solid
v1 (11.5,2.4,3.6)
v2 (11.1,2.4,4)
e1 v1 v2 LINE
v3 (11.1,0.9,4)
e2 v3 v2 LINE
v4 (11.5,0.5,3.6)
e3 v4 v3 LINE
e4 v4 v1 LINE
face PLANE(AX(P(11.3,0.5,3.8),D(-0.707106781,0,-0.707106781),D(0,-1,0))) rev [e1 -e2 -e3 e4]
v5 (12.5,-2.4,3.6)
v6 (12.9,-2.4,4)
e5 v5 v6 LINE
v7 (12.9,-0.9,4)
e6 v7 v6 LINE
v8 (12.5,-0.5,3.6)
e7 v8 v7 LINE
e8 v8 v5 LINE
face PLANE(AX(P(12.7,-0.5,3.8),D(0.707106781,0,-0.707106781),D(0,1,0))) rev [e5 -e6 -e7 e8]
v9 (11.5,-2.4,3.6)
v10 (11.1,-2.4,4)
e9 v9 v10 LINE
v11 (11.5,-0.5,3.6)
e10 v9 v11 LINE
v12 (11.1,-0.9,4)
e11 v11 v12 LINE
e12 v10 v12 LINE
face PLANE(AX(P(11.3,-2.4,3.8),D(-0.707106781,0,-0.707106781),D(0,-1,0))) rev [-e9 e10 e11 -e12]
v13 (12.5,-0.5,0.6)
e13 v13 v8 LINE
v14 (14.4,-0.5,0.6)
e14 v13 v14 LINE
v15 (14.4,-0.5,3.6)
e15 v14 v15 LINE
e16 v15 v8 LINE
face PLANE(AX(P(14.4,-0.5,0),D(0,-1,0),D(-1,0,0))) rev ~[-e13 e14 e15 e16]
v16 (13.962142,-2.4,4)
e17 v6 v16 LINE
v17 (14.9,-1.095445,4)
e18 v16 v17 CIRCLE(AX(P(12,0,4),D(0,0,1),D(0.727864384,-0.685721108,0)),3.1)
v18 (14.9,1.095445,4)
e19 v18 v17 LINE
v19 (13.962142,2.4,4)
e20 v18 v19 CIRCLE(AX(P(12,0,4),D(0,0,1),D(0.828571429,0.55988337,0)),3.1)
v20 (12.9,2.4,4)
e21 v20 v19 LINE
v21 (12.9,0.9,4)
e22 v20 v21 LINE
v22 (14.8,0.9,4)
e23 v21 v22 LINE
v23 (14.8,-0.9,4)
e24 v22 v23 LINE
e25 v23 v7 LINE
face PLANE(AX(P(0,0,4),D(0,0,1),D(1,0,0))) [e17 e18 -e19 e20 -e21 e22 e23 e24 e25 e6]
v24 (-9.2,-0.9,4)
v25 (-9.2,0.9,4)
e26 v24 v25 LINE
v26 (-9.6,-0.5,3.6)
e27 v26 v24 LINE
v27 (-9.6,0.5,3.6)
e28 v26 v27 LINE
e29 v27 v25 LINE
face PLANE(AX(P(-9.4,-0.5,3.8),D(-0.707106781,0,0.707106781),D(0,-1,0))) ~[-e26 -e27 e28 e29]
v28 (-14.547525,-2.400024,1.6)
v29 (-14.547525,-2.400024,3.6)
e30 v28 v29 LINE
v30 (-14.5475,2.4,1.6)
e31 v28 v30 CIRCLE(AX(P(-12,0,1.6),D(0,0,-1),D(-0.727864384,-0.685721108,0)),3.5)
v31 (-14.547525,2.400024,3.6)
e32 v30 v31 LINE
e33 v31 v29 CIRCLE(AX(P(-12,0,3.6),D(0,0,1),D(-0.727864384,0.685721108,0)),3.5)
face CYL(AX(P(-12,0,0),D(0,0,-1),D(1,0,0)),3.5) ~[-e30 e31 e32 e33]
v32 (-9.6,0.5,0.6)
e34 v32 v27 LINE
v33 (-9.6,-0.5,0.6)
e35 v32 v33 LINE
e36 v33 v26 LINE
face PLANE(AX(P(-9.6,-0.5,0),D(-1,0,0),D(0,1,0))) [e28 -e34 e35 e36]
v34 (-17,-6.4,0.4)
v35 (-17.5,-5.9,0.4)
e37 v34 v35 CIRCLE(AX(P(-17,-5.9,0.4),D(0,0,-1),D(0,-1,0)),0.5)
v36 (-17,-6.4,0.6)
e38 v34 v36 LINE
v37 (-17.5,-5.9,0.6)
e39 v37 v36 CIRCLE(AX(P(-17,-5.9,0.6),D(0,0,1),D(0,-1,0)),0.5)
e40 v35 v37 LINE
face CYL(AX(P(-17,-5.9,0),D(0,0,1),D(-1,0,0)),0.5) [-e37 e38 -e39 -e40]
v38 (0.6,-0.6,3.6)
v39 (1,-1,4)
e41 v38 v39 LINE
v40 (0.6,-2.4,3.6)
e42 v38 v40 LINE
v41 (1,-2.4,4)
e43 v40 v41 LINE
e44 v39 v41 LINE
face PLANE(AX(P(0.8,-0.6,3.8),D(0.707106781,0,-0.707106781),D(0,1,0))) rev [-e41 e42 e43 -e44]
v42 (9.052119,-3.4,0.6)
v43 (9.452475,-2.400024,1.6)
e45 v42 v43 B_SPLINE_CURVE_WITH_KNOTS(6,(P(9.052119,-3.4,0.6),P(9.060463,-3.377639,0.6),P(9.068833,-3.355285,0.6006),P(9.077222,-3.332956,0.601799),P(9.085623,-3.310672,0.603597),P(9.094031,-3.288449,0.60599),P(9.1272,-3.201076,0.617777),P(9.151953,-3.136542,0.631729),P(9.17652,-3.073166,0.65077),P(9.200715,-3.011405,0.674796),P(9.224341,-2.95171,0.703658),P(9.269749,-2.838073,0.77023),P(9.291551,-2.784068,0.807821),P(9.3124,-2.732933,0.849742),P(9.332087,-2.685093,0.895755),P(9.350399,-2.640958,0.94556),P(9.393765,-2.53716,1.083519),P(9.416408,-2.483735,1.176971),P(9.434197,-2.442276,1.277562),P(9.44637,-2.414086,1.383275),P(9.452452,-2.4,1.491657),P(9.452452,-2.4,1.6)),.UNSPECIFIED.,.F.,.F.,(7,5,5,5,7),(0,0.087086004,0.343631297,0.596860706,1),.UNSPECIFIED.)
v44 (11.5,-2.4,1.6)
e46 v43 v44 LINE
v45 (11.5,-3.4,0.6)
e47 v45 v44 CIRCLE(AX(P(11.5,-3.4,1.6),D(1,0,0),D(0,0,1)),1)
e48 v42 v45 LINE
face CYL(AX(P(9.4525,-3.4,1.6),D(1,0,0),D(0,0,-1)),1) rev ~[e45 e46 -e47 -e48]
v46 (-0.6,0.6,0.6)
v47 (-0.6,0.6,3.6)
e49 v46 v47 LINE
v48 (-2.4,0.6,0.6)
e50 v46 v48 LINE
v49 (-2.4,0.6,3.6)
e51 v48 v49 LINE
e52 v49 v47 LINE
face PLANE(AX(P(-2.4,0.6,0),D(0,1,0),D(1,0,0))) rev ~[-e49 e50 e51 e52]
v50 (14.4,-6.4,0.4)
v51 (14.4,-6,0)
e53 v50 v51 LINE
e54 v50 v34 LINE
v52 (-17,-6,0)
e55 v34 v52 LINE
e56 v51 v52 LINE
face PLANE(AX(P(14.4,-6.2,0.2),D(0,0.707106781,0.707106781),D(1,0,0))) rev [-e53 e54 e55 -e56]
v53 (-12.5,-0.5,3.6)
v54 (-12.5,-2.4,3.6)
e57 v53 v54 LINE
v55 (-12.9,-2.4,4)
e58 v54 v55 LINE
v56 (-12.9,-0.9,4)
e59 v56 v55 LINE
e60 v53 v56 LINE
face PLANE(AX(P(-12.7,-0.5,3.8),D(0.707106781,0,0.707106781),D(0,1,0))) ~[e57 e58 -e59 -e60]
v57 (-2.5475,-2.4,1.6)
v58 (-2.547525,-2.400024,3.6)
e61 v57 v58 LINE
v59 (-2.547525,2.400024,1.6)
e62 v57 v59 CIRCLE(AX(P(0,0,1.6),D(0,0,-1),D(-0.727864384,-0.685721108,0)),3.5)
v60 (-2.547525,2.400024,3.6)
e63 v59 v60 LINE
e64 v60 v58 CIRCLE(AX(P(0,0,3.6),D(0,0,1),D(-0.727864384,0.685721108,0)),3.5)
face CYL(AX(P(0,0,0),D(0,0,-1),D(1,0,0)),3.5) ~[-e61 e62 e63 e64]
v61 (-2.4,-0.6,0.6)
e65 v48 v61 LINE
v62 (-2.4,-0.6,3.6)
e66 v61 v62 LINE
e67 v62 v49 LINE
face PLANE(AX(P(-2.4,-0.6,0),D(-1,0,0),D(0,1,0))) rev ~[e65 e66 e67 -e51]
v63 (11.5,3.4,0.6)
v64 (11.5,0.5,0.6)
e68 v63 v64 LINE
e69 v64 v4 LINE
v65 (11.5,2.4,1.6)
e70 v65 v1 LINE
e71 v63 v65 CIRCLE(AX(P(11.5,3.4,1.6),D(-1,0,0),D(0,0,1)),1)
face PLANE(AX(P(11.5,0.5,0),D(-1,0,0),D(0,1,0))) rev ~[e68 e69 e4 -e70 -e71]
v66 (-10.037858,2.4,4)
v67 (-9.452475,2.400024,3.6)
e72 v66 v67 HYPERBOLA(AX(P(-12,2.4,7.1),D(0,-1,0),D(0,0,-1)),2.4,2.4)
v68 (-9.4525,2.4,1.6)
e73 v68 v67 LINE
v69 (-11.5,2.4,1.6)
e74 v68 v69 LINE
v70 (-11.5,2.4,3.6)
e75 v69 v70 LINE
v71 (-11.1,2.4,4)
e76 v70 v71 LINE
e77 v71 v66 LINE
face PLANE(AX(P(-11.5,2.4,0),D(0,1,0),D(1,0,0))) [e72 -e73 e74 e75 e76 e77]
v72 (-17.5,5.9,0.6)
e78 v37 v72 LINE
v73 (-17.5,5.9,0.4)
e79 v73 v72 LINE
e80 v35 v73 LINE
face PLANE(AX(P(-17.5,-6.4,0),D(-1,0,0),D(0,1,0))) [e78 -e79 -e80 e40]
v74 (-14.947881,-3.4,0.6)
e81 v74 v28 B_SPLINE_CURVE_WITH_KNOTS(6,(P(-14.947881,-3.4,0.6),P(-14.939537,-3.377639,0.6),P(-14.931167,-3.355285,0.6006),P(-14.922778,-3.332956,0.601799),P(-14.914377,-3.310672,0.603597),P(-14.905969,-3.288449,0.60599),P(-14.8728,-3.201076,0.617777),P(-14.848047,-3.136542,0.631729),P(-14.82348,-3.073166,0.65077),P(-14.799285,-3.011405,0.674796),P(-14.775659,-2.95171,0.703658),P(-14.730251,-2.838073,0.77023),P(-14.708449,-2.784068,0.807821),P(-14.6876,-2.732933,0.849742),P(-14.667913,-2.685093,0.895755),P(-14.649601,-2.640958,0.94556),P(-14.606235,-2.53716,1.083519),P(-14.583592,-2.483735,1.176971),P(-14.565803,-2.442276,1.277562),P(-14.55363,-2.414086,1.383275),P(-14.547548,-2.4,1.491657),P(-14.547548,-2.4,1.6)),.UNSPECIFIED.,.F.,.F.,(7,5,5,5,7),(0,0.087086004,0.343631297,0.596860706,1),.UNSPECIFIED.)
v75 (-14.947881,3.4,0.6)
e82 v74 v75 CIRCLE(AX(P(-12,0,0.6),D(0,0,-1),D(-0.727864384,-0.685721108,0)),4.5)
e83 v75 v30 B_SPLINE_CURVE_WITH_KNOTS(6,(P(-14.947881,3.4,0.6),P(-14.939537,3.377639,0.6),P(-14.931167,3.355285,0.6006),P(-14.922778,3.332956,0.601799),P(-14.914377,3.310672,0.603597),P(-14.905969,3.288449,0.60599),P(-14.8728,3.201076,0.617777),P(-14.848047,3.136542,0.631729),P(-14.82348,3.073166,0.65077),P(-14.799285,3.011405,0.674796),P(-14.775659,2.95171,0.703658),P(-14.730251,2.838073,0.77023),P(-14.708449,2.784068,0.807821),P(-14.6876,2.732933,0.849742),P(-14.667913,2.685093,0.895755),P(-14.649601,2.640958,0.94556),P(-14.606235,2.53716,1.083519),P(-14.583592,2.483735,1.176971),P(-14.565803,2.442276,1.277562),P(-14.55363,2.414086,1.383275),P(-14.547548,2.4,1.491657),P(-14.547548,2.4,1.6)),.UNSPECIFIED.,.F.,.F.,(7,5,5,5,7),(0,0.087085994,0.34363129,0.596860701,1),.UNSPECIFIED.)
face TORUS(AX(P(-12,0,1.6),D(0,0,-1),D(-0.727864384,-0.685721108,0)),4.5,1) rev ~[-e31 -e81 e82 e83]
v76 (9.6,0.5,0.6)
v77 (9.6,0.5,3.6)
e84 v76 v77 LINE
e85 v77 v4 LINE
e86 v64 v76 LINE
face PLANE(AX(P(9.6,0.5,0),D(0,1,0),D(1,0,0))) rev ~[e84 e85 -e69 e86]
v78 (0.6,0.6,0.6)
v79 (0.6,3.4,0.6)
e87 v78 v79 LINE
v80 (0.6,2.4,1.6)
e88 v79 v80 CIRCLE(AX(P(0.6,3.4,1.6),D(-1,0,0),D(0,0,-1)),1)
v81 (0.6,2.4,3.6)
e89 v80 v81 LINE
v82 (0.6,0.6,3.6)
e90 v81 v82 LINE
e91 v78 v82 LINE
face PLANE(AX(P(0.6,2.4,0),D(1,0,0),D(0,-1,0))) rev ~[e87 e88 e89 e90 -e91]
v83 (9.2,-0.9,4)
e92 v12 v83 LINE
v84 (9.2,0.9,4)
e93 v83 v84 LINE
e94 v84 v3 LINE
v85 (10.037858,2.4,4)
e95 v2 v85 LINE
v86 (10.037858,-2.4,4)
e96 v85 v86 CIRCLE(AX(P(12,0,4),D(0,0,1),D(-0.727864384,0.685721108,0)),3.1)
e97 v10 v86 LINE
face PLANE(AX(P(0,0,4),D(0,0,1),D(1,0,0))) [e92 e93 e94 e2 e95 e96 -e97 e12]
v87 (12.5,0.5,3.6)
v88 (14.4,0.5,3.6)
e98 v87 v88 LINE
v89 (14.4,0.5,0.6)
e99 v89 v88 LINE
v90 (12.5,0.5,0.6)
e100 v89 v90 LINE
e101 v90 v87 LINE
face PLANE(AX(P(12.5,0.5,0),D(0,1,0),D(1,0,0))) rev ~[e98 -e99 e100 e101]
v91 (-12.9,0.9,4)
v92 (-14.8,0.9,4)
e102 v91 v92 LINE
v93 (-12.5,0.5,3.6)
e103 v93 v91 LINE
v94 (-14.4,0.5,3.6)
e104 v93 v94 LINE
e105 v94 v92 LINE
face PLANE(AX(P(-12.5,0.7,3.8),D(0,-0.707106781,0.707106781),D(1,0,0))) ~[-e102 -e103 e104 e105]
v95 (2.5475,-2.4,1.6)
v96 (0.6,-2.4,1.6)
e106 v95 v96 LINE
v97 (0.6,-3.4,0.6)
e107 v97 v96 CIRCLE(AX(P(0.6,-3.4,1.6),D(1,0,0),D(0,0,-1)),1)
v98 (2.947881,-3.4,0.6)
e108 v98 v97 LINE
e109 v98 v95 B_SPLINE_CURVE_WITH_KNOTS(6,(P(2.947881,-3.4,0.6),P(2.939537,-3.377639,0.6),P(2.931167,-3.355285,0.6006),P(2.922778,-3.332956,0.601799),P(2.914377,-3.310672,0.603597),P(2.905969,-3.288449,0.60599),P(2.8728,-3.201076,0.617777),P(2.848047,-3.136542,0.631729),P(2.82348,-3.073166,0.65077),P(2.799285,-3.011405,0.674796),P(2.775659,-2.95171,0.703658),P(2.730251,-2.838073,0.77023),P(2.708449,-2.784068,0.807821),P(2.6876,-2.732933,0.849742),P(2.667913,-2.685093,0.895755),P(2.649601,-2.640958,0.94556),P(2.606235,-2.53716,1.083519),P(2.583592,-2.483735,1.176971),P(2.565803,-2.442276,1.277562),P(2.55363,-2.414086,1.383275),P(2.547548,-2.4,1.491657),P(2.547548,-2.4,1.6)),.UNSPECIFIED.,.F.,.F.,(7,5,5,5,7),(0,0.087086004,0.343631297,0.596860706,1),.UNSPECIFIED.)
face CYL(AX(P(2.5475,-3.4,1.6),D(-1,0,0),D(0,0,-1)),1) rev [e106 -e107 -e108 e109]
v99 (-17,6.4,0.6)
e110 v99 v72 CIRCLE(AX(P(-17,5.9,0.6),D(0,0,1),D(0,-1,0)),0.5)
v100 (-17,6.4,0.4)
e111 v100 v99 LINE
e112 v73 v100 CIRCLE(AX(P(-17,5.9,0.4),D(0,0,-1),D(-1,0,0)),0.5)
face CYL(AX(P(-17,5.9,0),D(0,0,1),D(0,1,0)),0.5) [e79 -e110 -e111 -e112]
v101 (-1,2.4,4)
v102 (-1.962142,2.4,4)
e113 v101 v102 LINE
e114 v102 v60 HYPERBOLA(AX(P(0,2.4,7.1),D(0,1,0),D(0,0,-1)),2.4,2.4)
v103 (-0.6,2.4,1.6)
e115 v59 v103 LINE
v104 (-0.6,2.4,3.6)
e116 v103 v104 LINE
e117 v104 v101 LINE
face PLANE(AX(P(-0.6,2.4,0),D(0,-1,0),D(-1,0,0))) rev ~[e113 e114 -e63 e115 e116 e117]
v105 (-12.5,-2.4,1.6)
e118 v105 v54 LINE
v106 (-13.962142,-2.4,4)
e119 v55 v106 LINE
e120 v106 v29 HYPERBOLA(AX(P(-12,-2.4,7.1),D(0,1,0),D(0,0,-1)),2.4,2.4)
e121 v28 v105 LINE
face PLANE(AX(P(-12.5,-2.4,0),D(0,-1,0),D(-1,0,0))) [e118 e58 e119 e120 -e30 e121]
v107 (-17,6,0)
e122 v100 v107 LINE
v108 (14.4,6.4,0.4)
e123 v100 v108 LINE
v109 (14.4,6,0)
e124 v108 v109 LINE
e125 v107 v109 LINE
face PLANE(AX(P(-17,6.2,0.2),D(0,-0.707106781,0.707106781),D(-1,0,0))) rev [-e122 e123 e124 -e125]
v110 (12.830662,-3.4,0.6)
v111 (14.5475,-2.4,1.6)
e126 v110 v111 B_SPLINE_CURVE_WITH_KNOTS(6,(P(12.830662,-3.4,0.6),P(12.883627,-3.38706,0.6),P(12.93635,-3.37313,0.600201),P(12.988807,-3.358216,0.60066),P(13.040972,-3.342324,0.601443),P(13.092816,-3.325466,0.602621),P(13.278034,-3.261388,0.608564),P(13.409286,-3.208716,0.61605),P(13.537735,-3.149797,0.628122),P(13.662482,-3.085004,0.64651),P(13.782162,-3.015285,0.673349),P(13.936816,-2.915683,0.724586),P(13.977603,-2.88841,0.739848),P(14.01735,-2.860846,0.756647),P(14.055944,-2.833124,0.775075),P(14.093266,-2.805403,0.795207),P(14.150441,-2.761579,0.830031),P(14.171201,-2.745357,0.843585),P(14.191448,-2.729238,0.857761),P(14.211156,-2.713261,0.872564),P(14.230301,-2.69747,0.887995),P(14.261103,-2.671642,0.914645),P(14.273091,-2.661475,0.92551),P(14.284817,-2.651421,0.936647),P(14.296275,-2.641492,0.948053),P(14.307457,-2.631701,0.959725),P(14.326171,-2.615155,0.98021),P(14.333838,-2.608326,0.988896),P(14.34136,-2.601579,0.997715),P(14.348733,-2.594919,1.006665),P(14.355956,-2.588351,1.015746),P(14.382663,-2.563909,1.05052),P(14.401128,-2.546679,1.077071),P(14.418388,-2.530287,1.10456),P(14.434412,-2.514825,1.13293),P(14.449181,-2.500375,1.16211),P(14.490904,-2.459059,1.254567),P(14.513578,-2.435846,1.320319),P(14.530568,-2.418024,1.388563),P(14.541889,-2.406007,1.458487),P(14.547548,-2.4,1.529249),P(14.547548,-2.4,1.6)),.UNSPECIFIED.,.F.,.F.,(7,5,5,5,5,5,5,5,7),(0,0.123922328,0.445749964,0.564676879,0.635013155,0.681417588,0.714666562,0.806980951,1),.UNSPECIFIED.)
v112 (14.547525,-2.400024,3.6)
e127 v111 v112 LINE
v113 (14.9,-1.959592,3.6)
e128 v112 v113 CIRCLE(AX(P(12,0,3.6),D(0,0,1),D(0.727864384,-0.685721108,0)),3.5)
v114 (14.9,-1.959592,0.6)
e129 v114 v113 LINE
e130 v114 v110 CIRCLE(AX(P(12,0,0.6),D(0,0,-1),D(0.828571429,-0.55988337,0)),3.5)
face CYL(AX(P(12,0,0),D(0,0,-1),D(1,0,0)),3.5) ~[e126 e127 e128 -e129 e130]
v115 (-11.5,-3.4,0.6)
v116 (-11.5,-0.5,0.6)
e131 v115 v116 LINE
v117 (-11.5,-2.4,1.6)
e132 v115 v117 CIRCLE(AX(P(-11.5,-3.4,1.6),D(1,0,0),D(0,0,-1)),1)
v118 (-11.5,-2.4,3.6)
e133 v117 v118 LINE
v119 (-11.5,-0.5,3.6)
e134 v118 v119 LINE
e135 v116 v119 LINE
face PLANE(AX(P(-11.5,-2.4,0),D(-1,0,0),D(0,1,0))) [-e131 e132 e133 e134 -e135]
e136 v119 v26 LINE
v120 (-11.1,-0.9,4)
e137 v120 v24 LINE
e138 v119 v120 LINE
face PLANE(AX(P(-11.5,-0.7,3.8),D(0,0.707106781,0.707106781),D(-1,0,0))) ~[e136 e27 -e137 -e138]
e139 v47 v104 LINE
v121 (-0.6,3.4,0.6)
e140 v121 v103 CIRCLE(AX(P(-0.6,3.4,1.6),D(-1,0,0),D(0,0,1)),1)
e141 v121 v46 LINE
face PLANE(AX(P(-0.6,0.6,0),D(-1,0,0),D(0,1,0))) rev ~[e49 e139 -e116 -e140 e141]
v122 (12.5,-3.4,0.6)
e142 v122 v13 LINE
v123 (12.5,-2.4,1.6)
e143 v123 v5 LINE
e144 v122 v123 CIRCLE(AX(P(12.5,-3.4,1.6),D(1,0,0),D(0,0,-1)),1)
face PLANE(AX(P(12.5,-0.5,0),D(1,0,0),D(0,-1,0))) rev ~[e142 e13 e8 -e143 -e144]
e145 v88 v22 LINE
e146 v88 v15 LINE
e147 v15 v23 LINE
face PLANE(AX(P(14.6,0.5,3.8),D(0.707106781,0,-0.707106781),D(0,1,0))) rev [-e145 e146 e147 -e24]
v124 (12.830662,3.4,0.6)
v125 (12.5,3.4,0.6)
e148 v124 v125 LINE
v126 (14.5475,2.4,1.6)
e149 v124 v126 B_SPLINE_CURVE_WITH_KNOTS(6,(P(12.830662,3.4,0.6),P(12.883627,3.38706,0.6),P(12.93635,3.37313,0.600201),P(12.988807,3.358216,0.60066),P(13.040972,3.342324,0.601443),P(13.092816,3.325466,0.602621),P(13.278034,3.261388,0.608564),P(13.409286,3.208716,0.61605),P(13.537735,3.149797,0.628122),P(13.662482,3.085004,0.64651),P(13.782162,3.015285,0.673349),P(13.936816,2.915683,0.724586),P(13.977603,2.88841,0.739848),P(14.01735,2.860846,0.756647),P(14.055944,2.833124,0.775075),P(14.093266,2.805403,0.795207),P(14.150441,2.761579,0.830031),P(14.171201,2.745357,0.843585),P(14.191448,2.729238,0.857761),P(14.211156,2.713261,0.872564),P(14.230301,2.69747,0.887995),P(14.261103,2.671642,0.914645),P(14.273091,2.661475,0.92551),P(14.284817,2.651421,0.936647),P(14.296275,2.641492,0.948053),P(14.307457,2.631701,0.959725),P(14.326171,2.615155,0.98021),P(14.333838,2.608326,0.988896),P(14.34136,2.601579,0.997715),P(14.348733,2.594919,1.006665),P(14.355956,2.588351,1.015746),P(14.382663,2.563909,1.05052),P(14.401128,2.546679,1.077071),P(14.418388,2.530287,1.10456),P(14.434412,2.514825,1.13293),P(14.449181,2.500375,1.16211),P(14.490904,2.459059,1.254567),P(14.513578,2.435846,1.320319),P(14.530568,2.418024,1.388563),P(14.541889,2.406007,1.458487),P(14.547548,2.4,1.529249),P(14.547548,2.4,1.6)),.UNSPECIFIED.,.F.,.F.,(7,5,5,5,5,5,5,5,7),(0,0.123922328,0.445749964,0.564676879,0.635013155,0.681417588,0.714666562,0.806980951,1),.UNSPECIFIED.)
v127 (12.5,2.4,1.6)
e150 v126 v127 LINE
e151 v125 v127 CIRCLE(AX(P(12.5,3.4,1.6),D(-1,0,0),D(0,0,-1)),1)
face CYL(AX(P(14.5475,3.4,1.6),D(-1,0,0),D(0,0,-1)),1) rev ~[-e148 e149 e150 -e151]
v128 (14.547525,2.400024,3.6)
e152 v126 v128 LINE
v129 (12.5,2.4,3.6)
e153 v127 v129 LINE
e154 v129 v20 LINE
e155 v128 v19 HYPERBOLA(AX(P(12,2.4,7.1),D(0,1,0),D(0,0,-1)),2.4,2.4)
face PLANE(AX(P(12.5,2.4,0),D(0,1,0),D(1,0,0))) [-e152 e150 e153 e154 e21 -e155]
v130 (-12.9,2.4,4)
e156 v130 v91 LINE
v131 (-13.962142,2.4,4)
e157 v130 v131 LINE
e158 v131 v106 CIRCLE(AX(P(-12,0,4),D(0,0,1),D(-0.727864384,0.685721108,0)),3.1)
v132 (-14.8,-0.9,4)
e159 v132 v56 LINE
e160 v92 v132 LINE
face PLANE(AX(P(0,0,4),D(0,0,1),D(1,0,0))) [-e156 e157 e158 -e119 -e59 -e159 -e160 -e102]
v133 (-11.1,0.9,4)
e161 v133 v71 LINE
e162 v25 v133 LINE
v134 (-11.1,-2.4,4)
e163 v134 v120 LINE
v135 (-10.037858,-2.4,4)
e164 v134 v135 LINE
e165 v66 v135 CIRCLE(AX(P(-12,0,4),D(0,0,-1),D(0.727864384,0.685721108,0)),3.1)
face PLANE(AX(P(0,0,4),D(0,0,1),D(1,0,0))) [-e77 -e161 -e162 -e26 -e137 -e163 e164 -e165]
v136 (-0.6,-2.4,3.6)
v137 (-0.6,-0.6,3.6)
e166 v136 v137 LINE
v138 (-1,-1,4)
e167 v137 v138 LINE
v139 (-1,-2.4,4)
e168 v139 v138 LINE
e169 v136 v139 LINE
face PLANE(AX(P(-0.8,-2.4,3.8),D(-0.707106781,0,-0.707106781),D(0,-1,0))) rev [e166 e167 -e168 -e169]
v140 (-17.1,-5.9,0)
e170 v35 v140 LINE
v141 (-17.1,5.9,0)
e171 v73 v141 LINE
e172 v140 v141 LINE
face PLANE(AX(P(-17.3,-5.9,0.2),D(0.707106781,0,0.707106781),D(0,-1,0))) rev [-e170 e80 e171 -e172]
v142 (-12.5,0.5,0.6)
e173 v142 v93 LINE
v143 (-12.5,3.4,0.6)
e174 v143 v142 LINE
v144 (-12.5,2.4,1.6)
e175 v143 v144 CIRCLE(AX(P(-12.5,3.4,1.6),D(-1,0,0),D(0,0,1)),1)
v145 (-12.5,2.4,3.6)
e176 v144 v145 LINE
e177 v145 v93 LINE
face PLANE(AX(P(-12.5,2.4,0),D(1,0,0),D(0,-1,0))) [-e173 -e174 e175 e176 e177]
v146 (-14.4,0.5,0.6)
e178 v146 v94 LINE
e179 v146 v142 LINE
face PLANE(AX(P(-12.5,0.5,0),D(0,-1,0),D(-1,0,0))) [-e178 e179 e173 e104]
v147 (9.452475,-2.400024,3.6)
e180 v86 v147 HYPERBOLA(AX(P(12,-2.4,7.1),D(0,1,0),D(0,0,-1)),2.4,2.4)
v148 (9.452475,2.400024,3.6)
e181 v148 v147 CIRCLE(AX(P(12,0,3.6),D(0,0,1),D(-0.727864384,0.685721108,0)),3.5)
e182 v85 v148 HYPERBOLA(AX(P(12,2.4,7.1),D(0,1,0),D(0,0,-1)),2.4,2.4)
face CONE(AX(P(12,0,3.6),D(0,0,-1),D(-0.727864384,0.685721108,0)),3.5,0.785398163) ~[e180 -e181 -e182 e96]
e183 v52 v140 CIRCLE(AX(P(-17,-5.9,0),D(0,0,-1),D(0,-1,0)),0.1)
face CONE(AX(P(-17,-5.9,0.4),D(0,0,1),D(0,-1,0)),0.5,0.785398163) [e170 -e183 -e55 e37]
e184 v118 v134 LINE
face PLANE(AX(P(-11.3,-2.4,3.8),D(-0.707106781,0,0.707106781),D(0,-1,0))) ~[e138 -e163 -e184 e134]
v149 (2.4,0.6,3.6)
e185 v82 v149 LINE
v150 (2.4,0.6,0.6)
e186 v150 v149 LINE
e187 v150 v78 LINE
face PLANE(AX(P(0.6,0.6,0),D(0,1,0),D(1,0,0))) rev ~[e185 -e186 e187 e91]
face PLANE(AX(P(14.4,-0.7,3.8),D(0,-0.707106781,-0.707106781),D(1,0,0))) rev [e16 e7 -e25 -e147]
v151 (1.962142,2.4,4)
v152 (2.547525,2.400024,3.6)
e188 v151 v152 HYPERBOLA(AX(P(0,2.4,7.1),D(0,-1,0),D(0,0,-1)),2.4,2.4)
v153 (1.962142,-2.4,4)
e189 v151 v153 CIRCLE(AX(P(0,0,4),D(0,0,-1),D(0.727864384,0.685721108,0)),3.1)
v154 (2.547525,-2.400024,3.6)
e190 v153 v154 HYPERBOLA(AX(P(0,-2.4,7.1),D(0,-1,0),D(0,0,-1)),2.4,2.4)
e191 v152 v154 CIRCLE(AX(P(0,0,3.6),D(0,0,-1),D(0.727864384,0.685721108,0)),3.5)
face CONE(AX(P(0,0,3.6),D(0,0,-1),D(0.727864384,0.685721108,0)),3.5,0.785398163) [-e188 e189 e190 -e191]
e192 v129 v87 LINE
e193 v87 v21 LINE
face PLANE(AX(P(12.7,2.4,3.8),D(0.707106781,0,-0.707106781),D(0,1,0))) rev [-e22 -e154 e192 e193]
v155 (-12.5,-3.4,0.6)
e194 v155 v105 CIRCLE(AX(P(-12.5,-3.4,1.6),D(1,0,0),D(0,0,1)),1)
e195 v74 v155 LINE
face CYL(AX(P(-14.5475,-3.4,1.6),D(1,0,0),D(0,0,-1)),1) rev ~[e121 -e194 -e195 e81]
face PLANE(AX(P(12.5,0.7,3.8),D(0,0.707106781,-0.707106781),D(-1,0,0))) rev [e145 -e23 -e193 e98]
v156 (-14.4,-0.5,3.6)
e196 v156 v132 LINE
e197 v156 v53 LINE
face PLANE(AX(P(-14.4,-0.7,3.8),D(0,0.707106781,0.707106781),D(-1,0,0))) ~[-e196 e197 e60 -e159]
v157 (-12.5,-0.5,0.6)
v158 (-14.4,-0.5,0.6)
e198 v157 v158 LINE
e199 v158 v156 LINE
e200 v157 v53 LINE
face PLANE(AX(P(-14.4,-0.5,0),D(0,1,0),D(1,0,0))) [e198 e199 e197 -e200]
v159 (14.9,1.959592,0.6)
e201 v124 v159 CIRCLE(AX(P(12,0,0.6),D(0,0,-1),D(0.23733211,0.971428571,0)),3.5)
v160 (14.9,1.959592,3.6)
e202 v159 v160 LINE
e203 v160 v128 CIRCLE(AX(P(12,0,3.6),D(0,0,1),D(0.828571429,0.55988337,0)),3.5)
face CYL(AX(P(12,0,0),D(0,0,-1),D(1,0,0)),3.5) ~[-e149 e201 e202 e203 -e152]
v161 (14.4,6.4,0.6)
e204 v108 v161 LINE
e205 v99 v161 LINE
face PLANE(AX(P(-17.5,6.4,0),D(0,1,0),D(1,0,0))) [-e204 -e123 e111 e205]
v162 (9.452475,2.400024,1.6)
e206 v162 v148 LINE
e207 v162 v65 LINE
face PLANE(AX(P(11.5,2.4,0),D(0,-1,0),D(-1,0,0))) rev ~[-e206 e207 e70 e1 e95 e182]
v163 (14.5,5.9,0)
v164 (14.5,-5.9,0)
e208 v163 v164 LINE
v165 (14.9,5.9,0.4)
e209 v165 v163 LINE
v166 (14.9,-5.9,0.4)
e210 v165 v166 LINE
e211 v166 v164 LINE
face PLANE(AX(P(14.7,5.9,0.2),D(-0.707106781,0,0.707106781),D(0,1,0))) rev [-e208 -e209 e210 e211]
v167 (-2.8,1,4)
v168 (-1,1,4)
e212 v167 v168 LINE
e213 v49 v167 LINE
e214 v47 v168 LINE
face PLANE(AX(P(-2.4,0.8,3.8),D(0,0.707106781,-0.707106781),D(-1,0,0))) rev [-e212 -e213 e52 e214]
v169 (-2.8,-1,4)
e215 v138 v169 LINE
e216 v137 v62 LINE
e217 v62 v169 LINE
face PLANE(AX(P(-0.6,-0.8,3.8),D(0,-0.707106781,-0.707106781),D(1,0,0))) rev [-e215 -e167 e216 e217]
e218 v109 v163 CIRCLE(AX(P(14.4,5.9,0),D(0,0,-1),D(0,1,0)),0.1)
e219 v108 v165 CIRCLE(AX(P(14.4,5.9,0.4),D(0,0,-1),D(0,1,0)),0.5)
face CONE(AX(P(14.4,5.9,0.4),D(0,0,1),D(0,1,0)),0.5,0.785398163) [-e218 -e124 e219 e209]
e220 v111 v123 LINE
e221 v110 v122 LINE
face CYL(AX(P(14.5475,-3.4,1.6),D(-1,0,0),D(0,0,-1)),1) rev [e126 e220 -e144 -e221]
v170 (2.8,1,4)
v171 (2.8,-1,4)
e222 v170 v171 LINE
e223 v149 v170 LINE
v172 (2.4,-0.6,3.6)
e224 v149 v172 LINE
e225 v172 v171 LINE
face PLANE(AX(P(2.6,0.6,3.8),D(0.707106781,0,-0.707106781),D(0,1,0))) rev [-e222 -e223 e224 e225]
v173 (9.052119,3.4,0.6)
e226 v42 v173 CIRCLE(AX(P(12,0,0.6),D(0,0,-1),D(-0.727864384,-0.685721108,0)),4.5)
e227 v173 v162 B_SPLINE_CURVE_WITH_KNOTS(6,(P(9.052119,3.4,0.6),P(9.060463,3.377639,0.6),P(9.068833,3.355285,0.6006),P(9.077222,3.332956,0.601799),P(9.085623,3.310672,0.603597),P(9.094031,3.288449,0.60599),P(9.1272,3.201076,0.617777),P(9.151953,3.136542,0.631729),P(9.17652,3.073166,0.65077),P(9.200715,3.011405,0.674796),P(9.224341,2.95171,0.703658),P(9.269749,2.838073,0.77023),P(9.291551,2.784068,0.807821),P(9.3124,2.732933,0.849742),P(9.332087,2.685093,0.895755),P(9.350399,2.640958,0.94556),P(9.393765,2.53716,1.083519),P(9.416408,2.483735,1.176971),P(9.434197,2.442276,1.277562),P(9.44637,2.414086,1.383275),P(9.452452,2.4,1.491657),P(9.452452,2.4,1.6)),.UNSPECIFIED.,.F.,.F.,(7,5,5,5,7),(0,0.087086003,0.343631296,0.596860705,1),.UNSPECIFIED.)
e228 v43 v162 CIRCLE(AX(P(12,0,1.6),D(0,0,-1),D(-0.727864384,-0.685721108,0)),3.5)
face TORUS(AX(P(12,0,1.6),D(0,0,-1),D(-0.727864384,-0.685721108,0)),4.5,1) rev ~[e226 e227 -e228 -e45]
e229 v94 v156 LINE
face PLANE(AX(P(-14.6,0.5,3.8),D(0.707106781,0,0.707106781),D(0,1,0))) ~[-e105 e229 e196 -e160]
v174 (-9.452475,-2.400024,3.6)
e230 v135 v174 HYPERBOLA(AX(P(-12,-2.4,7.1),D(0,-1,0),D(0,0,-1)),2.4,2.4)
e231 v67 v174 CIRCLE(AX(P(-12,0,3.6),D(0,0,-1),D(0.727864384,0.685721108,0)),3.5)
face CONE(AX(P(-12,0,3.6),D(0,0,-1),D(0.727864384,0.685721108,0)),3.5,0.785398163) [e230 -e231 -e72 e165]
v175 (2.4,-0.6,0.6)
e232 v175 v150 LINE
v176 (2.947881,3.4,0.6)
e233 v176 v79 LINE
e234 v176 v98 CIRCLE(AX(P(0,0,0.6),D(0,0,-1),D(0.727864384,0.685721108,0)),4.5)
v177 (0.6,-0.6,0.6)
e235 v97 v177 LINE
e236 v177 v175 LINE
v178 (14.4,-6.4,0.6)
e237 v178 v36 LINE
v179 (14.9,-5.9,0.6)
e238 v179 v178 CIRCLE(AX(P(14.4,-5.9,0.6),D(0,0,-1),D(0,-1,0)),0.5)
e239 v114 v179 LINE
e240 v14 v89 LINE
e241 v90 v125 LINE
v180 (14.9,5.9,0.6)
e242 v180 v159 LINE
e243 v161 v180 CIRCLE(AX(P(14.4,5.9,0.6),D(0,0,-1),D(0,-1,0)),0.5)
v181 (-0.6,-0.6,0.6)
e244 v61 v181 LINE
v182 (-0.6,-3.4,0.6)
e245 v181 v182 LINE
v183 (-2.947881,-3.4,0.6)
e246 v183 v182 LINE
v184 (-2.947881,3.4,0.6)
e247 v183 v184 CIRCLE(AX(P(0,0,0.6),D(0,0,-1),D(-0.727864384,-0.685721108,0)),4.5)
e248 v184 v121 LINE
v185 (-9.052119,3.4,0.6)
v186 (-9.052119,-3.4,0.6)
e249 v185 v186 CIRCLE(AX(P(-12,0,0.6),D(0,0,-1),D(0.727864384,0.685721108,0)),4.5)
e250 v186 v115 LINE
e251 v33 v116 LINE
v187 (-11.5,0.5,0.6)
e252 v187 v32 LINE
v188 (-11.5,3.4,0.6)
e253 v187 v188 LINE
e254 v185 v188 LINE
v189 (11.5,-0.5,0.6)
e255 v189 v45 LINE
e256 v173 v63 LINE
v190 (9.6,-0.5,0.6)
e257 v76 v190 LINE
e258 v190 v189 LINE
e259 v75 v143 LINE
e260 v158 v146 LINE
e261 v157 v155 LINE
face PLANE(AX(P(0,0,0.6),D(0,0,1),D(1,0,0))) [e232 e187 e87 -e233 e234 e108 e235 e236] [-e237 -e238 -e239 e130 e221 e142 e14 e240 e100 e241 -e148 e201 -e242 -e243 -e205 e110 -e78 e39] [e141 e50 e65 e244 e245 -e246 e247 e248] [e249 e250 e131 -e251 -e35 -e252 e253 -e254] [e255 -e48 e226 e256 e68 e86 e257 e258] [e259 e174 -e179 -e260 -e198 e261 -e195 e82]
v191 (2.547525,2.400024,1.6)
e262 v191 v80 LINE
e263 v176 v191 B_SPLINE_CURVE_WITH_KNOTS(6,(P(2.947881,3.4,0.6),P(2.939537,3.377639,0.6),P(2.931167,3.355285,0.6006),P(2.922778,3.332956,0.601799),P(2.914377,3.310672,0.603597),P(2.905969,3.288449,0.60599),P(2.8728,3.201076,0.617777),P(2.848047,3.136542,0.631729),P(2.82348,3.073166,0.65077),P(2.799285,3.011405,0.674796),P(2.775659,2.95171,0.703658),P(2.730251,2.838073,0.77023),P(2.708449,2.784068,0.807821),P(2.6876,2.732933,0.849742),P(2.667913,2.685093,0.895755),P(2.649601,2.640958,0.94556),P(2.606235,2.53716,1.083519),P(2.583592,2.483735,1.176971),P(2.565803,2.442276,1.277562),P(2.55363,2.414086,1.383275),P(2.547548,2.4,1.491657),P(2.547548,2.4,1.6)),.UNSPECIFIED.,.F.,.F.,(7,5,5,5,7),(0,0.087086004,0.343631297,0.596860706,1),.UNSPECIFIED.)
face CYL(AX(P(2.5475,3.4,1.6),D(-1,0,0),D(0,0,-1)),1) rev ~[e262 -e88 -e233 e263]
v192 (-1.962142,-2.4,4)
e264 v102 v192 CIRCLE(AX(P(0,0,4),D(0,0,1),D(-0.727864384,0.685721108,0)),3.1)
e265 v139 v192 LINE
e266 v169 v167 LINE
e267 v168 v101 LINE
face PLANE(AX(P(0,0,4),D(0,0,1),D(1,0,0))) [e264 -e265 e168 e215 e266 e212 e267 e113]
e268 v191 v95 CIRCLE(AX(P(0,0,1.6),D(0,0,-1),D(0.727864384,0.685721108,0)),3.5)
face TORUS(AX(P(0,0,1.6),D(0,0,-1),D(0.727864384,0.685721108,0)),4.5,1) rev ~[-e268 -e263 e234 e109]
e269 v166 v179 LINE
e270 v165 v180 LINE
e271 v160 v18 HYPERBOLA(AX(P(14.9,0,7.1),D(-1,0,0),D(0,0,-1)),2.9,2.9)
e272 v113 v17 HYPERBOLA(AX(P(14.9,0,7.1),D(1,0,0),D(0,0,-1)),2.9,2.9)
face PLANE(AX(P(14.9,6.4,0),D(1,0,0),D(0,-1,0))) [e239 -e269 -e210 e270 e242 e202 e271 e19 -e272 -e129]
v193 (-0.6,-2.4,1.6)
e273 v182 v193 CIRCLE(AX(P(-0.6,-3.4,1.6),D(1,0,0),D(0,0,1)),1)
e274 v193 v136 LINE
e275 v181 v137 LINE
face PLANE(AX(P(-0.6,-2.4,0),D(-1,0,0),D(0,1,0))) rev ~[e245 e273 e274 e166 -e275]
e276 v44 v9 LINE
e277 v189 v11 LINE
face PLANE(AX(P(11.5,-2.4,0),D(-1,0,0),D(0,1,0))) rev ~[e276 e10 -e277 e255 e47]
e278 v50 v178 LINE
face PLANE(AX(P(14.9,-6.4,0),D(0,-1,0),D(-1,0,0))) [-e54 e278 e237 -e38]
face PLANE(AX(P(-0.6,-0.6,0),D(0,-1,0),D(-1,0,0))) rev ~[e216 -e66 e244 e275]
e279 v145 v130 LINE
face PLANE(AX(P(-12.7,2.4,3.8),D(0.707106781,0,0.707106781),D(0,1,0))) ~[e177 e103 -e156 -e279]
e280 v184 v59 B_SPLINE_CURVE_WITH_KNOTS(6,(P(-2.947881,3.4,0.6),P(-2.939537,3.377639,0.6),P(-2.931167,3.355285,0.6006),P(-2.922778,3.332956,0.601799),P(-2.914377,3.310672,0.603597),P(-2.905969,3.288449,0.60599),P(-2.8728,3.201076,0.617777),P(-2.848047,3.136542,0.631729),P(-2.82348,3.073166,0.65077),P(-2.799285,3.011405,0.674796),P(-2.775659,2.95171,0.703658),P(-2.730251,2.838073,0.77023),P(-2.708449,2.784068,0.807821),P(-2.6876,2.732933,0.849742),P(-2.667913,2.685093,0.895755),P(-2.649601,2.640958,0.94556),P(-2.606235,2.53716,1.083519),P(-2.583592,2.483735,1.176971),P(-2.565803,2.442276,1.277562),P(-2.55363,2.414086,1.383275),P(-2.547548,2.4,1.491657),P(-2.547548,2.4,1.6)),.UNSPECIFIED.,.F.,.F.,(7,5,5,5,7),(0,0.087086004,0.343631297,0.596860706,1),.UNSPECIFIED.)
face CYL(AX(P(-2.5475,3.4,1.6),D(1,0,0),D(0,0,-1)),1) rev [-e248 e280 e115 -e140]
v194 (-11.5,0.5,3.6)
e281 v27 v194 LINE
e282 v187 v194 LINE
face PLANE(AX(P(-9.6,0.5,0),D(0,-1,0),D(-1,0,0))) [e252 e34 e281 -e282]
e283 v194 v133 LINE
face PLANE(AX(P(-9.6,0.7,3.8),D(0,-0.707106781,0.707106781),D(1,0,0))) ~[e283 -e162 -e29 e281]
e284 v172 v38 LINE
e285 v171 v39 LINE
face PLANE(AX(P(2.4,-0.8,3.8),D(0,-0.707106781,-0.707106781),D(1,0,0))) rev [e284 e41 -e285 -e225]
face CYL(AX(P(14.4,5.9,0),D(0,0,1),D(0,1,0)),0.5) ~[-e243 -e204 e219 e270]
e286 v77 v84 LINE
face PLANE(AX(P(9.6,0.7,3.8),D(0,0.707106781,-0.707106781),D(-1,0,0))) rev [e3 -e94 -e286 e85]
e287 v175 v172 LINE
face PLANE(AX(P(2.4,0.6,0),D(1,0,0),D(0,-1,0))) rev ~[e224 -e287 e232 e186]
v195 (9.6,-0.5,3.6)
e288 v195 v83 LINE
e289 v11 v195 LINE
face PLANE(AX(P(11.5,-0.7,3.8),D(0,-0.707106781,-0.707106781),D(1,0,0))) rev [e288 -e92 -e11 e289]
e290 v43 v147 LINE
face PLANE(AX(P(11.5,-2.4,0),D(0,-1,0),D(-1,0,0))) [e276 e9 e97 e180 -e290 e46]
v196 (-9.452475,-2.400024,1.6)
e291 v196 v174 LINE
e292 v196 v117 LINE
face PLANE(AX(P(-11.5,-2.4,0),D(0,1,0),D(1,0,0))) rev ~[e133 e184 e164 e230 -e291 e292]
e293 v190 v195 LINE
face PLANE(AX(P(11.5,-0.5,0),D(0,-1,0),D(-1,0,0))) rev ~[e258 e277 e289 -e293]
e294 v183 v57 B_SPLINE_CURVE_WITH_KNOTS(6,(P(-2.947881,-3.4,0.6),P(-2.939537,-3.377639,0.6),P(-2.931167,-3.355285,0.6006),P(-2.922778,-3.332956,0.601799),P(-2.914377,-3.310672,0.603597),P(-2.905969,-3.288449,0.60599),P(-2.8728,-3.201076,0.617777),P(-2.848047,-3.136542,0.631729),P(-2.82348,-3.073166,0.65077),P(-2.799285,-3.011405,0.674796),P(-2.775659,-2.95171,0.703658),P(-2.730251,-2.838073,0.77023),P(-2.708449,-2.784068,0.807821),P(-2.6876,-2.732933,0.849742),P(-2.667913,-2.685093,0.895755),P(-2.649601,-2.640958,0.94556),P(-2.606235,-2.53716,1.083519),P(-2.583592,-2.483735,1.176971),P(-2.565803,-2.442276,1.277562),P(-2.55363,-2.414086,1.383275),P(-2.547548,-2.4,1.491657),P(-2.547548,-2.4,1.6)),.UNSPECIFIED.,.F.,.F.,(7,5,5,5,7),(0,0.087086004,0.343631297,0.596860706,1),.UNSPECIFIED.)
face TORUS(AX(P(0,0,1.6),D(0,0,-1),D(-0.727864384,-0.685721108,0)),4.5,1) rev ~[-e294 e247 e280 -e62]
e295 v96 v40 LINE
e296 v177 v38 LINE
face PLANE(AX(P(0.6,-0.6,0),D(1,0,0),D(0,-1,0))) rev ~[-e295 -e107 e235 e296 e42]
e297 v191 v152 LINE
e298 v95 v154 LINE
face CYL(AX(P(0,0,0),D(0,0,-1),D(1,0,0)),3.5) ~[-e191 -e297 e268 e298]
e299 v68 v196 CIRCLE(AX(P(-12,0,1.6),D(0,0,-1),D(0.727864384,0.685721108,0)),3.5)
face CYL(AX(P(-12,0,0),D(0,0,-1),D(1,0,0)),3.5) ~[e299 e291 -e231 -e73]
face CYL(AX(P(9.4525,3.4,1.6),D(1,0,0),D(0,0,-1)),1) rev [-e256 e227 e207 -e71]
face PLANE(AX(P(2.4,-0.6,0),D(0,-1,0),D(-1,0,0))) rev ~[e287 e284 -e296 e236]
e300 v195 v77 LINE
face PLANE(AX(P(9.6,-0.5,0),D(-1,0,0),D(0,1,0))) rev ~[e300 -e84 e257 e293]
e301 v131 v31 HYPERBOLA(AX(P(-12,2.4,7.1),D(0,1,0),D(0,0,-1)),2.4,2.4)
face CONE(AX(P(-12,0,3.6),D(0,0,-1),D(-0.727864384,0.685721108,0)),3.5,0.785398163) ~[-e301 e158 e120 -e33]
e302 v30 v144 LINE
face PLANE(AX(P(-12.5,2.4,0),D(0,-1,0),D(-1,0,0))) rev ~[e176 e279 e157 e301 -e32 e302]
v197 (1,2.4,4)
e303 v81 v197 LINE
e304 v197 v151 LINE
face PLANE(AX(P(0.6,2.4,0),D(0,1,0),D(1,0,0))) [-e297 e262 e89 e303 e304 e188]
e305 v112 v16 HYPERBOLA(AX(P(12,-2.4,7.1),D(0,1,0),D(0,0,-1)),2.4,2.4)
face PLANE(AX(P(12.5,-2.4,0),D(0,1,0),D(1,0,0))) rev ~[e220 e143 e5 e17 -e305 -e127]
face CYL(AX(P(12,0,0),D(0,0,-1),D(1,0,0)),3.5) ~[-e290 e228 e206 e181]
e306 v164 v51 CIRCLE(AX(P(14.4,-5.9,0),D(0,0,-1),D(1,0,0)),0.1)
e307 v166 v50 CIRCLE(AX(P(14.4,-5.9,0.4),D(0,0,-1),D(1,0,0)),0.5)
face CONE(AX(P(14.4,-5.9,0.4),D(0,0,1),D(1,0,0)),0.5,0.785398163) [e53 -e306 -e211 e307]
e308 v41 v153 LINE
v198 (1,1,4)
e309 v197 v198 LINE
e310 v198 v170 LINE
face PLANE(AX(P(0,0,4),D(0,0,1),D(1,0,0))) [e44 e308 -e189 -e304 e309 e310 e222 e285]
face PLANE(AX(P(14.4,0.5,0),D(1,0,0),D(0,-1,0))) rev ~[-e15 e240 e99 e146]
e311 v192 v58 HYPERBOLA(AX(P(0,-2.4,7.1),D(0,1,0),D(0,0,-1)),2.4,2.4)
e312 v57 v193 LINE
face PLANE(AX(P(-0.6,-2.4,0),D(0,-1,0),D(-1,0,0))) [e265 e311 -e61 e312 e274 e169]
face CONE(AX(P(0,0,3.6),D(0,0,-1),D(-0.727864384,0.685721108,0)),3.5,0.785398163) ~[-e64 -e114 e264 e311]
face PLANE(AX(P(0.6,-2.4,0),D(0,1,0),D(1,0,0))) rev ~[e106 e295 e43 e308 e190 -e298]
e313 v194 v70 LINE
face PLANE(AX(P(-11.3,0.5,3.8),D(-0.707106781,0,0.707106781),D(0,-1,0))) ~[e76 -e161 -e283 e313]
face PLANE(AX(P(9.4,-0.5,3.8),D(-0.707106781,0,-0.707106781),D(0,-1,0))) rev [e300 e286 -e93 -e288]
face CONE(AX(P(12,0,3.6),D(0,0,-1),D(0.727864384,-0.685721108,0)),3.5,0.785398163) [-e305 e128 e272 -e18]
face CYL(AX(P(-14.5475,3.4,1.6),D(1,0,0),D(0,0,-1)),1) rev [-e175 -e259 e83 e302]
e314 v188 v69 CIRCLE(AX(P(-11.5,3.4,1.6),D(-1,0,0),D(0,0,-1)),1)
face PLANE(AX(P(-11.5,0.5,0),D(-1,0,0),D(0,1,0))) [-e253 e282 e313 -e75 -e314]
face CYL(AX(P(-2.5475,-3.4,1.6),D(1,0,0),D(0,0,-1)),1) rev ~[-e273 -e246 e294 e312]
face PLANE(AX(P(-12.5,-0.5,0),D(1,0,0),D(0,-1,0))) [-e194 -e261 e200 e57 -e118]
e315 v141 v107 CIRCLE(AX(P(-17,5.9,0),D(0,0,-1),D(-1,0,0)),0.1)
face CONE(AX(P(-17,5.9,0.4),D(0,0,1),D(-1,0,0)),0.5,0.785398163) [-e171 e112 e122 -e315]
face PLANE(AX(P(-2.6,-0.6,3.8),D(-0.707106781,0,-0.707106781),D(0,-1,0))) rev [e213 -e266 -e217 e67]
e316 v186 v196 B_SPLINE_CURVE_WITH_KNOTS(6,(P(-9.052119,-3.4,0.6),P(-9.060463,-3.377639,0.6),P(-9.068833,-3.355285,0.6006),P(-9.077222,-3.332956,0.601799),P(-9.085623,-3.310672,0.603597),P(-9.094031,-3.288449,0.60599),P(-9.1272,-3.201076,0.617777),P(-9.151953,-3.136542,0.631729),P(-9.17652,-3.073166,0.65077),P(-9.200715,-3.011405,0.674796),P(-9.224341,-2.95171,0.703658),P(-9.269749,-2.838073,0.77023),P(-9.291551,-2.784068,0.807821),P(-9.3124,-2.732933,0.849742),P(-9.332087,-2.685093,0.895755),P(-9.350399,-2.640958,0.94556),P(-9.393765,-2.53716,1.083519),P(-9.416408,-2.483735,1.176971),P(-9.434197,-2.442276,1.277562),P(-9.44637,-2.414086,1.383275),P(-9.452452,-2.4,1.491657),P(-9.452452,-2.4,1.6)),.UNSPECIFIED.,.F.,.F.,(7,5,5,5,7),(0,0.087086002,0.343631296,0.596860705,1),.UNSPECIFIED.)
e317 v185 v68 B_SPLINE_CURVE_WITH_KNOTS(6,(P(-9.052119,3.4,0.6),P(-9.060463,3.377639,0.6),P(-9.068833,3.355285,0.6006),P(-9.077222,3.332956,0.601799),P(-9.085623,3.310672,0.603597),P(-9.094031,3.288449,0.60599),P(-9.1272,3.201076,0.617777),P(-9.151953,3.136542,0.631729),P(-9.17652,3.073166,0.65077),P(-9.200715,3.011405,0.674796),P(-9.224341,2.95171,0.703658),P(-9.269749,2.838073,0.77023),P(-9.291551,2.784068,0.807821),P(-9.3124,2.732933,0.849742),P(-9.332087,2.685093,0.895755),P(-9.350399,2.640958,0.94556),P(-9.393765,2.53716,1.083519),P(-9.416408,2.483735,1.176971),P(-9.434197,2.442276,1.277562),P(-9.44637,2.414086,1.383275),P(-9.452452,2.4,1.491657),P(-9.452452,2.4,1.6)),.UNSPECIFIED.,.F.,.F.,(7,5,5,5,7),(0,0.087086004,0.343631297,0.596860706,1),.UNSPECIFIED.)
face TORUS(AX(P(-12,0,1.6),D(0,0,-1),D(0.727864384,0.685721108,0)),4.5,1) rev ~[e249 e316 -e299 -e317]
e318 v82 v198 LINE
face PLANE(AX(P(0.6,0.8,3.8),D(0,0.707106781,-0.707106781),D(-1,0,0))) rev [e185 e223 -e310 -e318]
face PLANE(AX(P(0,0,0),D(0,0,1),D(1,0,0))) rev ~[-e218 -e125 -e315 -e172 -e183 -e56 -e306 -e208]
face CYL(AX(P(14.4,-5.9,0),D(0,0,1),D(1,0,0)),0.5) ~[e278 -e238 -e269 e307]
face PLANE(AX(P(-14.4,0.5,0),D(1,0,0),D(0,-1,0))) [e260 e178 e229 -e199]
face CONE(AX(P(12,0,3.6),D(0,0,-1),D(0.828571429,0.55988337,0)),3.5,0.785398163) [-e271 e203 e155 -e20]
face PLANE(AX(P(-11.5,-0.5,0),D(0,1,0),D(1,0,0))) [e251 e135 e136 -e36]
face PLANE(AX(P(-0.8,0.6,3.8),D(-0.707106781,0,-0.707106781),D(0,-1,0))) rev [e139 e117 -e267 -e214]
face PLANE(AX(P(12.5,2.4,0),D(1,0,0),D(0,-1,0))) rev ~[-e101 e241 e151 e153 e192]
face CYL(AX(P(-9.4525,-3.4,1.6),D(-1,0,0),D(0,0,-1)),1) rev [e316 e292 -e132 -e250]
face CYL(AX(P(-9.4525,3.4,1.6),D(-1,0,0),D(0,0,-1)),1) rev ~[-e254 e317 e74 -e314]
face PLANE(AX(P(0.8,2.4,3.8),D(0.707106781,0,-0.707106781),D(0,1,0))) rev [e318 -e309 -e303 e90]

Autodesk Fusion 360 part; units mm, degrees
sketch "Sketch1" plane through (0, 0, 0) normal (0, 0, 1) x (1, 0, 0)
  line L0 (18.5, 9) -> (-18.5, 9) construction
  line L1 (-18.5, 9) -> (-18.5, -9) construction
  line L2 (-18.5, -9) -> (18.5, -9) construction
  line L3 (18.5, -9) -> (18.5, 9) construction
  line L4 (18.5, 9) -> (-18.5, -9) construction
  line L5 (-18.5, 9) -> (18.5, -9) construction
  line L6 (-17.5, 6.4) -> (14.9, 6.4)
  line L7 (14.9, 6.4) -> (14.9, -6.4)
  line L8 (14.9, -6.4) -> (-17.5, -6.4)
  line L9 (-17.5, -6.4) -> (-17.5, 6.4)
  circle A0 centre (0, 0) radius 3.5
  line L10 (2.4, -0.6) -> (-2.4, -0.6)
  line L11 (-2.4, -0.6) -> (-2.4, 0.6)
  line L12 (-2.4, 0.6) -> (2.4, 0.6)
  line L13 (2.4, 0.6) -> (2.4, -0.6)
  line L14 (2.4, -0.6) -> (-2.4, 0.6) construction
  line L15 (-2.4, -0.6) -> (2.4, 0.6) construction
  line L16 (0.6, -2.4) -> (-0.6, -2.4)
  line L17 (-0.6, -2.4) -> (-0.6, 2.4)
  line L18 (-0.6, 2.4) -> (0.6, 2.4)
  line L19 (0.6, 2.4) -> (0.6, -2.4)
  line L20 (0.6, -2.4) -> (-0.6, 2.4) construction
  line L21 (-0.6, -2.4) -> (0.6, 2.4) construction
  line L22 (-0.6, 2.4) -> (-2.5475, 2.4)
  line L23 (0.6, 2.4) -> (2.5475, 2.4)
  line L24 (-0.6, -2.4) -> (-2.5475, -2.4)
  line L25 (0.6, -2.4) -> (2.5475, -2.4)
  line L26 (0, 0) -> (0, 6.2895) construction
  line L27 (0, 0) -> (12, 0) construction
  circle A1 centre (12, 0) radius 3.5
  line L28 (14.4, -0.5) -> (9.6, -0.5)
  line L29 (9.6, -0.5) -> (9.6, 0.5)
  line L30 (9.6, 0.5) -> (14.4, 0.5)
  line L31 (14.4, 0.5) -> (14.4, -0.5)
  line L32 (14.4, -0.5) -> (9.6, 0.5) construction
  line L33 (9.6, -0.5) -> (14.4, 0.5) construction
  line L34 (12.5, -2.4) -> (11.5, -2.4)
  line L35 (11.5, -2.4) -> (11.5, 2.4)
  line L36 (11.5, 2.4) -> (12.5, 2.4)
  line L37 (12.5, 2.4) -> (12.5, -2.4)
  line L38 (12.5, -2.4) -> (11.5, 2.4) construction
  line L39 (11.5, -2.4) -> (12.5, 2.4) construction
  line L40 (11.5, 2.4) -> (9.4525, 2.4)
  line L41 (12.5, 2.4) -> (14.5475, 2.4)
  line L42 (11.5, -2.4) -> (9.4525, -2.4)
  line L43 (12.5, -2.4) -> (14.5475, -2.4)
  circle A2 centre (-12, 0) radius 3.5
  line L44 (-11.5, 2.4) -> (-9.4525, 2.4)
  line L45 (-11.5, 2.4) -> (-12.5, 2.4)
  line L46 (-12.5, 2.4) -> (-14.5475, 2.4)
  line L47 (-11.5, -2.4) -> (-9.4525, -2.4)
  line L48 (-12.5, -2.4) -> (-11.5, -2.4)
  line L49 (-12.5, -2.4) -> (-14.5475, -2.4)
  line L50 (-11.5, -2.4) -> (-11.5, 2.4)
  line L51 (-12.5, 2.4) -> (-12.5, -2.4)
  line L52 (-14.4, -0.5) -> (-9.6, -0.5)
  line L53 (-9.6, 0.5) -> (-14.4, 0.5)
  line L54 (-14.4, 0.5) -> (-14.4, -0.5)
  line L55 (-9.6, -0.5) -> (-9.6, 0.5)
  point P0 (12, 0)
  point P1 (12, 0)
  dimension "d1" = 37
  dimension "d2" = 18
  dimension "d3" = 2.6
  dimension "d4" = 2.6
  dimension "d5" = 3.6
  dimension "d6" = 1
  dimension "d7" = 7
  dimension "d8" = 4.8
  dimension "d9" = 1.2
  dimension "d10" = 1.2
  dimension "d11" = 4.8
  dimension "d19" = 12
  dimension "d20" = 7
  dimension "d21" = 4.8
  dimension "d22" = 1
  dimension "d23" = 4.8
  dimension "d24" = 1
extrude "Extrude1" add sketch "Sketch1" along normal blind 0.6 contours L6 L7 L8 L9 A1 | L7 A1 L28 L30 L31 L37 L41 L43 | A1 L36 L40 L41 | A1 L34 L42 L43 | A1 L28 L29 L30 L35 L40 L42 | L30 L35 L36 L37 | L28 L34 L35 L37 | L28 L30 L35 L37 | L28 L30 L31 L37 | L28 L29 L30 L35 | A0 L10 L12 L13 L19 L23 L25 | A0 L18 L22 L23 | A0 L16 L24 L25 | A0 L10 L11 L12 L17 L22 L24 | L12 L17 L18 L19 | L10 L16 L17 L19 | L10 L12 L17 L19 | L10 L12 L13 L19 | L10 L11 L12 L17 | A2 L44 L47 L50 L52 L53 L55 | A2 L44 L45 L46 | A2 L47 L48 L49 | A2 L46 L49 L51 L52 L53 L54 | L45 L50 L51 L53 | L48 L50 L51 L52 | L50 L52 L53 L55 | L50 L51 L52 L53 | L51 L52 L53 L54
extrude "Extrude2" add sketch "Sketch1" along normal blind 4 contours L7 A1 L28 L30 L31 L37 L41 L43 | A1 L28 L29 L30 L35 L40 L42 | A0 L10 L12 L13 L19 L23 L25 | A0 L10 L11 L12 L17 L22 L24 | A2 L44 L47 L50 L52 L53 L55 | A2 L46 L49 L51 L52 L53 L54
fillet "Fillet1" radius 1 17 edges at (-1.5738, -2.4, 0.6) (-3.5, 0, 0.6) (1.5738, -2.4, 0.6) (3.5, 0, 0.6) (1.5738, 2.4, 0.6) (-1.5738, 2.4, 0.6) (-10.4762, 2.4, 0.6) (-8.5, 0, 0.6) (-13.5238, 2.4, 0.6) (-15.5, 0, 0.6) (8.5, 0, 0.6) (10.4762, 2.4, 0.6) (13.5238, 2.4, 0.6) (-13.5238, -2.4, 0.6) (-10.4762, -2.4, 0.6) (10.4762, -2.4, 0.6) (13.5238, -2.4, 0.6)
fillet "Fillet1" radius 0.5 4 edges at (14.9, 6.4, 0.3) (-17.5, 6.4, 0.3) (14.9, -6.4, 0.3) (-17.5, -6.4, 0.3)
chamfer "Chamfer1" distance 0.4 angle 45 45 edges at (-1.3, 6.4, 0) (-17.3536, 6.2536, 0) (-17.5, 0, 0) (-17.3536, -6.2536, 0) (-1.3, -6.4, 0) (14.7536, -6.2536, 0) (14.9, 0, 0) (14.7536, 6.2536, 0) (-0.6, 1.5, 4) (-1.5, 0.6, 4) (-2.4, 0, 4) (-1.5, -0.6, 4) (-0.6, -1.5, 4) (0.6, -1.5, 4) (1.5, -0.6, 4) (2.4, 0, 4) (1.5, 0.6, 4) (0.6, 1.5, 4) (3.5, 0, 4) (-3.5, 0, 4) (-12.5, -1.45, 4) (-13.45, -0.5, 4) (-14.4, 0, 4) (-13.45, 0.5, 4) (-12.5, 1.45, 4) (-11.5, 1.45, 4) (-10.55, 0.5, 4) (-9.6, 0, 4) (-10.55, -0.5, 4) (-11.5, -1.45, 4) (-8.5, 0, 4) (-15.5, 0, 4) (8.5, 0, 4) (11.5, 1.45, 4) (10.55, 0.5, 4) (9.6, 0, 4) (10.55, -0.5, 4) (11.5, -1.45, 4) (12.5, -1.45, 4) (13.45, -0.5, 4) (14.4, 0, 4) (13.45, 0.5, 4) (12.5, 1.45, 4) (14.7327, 2.1869, 4) (14.7327, -2.1869, 4)
